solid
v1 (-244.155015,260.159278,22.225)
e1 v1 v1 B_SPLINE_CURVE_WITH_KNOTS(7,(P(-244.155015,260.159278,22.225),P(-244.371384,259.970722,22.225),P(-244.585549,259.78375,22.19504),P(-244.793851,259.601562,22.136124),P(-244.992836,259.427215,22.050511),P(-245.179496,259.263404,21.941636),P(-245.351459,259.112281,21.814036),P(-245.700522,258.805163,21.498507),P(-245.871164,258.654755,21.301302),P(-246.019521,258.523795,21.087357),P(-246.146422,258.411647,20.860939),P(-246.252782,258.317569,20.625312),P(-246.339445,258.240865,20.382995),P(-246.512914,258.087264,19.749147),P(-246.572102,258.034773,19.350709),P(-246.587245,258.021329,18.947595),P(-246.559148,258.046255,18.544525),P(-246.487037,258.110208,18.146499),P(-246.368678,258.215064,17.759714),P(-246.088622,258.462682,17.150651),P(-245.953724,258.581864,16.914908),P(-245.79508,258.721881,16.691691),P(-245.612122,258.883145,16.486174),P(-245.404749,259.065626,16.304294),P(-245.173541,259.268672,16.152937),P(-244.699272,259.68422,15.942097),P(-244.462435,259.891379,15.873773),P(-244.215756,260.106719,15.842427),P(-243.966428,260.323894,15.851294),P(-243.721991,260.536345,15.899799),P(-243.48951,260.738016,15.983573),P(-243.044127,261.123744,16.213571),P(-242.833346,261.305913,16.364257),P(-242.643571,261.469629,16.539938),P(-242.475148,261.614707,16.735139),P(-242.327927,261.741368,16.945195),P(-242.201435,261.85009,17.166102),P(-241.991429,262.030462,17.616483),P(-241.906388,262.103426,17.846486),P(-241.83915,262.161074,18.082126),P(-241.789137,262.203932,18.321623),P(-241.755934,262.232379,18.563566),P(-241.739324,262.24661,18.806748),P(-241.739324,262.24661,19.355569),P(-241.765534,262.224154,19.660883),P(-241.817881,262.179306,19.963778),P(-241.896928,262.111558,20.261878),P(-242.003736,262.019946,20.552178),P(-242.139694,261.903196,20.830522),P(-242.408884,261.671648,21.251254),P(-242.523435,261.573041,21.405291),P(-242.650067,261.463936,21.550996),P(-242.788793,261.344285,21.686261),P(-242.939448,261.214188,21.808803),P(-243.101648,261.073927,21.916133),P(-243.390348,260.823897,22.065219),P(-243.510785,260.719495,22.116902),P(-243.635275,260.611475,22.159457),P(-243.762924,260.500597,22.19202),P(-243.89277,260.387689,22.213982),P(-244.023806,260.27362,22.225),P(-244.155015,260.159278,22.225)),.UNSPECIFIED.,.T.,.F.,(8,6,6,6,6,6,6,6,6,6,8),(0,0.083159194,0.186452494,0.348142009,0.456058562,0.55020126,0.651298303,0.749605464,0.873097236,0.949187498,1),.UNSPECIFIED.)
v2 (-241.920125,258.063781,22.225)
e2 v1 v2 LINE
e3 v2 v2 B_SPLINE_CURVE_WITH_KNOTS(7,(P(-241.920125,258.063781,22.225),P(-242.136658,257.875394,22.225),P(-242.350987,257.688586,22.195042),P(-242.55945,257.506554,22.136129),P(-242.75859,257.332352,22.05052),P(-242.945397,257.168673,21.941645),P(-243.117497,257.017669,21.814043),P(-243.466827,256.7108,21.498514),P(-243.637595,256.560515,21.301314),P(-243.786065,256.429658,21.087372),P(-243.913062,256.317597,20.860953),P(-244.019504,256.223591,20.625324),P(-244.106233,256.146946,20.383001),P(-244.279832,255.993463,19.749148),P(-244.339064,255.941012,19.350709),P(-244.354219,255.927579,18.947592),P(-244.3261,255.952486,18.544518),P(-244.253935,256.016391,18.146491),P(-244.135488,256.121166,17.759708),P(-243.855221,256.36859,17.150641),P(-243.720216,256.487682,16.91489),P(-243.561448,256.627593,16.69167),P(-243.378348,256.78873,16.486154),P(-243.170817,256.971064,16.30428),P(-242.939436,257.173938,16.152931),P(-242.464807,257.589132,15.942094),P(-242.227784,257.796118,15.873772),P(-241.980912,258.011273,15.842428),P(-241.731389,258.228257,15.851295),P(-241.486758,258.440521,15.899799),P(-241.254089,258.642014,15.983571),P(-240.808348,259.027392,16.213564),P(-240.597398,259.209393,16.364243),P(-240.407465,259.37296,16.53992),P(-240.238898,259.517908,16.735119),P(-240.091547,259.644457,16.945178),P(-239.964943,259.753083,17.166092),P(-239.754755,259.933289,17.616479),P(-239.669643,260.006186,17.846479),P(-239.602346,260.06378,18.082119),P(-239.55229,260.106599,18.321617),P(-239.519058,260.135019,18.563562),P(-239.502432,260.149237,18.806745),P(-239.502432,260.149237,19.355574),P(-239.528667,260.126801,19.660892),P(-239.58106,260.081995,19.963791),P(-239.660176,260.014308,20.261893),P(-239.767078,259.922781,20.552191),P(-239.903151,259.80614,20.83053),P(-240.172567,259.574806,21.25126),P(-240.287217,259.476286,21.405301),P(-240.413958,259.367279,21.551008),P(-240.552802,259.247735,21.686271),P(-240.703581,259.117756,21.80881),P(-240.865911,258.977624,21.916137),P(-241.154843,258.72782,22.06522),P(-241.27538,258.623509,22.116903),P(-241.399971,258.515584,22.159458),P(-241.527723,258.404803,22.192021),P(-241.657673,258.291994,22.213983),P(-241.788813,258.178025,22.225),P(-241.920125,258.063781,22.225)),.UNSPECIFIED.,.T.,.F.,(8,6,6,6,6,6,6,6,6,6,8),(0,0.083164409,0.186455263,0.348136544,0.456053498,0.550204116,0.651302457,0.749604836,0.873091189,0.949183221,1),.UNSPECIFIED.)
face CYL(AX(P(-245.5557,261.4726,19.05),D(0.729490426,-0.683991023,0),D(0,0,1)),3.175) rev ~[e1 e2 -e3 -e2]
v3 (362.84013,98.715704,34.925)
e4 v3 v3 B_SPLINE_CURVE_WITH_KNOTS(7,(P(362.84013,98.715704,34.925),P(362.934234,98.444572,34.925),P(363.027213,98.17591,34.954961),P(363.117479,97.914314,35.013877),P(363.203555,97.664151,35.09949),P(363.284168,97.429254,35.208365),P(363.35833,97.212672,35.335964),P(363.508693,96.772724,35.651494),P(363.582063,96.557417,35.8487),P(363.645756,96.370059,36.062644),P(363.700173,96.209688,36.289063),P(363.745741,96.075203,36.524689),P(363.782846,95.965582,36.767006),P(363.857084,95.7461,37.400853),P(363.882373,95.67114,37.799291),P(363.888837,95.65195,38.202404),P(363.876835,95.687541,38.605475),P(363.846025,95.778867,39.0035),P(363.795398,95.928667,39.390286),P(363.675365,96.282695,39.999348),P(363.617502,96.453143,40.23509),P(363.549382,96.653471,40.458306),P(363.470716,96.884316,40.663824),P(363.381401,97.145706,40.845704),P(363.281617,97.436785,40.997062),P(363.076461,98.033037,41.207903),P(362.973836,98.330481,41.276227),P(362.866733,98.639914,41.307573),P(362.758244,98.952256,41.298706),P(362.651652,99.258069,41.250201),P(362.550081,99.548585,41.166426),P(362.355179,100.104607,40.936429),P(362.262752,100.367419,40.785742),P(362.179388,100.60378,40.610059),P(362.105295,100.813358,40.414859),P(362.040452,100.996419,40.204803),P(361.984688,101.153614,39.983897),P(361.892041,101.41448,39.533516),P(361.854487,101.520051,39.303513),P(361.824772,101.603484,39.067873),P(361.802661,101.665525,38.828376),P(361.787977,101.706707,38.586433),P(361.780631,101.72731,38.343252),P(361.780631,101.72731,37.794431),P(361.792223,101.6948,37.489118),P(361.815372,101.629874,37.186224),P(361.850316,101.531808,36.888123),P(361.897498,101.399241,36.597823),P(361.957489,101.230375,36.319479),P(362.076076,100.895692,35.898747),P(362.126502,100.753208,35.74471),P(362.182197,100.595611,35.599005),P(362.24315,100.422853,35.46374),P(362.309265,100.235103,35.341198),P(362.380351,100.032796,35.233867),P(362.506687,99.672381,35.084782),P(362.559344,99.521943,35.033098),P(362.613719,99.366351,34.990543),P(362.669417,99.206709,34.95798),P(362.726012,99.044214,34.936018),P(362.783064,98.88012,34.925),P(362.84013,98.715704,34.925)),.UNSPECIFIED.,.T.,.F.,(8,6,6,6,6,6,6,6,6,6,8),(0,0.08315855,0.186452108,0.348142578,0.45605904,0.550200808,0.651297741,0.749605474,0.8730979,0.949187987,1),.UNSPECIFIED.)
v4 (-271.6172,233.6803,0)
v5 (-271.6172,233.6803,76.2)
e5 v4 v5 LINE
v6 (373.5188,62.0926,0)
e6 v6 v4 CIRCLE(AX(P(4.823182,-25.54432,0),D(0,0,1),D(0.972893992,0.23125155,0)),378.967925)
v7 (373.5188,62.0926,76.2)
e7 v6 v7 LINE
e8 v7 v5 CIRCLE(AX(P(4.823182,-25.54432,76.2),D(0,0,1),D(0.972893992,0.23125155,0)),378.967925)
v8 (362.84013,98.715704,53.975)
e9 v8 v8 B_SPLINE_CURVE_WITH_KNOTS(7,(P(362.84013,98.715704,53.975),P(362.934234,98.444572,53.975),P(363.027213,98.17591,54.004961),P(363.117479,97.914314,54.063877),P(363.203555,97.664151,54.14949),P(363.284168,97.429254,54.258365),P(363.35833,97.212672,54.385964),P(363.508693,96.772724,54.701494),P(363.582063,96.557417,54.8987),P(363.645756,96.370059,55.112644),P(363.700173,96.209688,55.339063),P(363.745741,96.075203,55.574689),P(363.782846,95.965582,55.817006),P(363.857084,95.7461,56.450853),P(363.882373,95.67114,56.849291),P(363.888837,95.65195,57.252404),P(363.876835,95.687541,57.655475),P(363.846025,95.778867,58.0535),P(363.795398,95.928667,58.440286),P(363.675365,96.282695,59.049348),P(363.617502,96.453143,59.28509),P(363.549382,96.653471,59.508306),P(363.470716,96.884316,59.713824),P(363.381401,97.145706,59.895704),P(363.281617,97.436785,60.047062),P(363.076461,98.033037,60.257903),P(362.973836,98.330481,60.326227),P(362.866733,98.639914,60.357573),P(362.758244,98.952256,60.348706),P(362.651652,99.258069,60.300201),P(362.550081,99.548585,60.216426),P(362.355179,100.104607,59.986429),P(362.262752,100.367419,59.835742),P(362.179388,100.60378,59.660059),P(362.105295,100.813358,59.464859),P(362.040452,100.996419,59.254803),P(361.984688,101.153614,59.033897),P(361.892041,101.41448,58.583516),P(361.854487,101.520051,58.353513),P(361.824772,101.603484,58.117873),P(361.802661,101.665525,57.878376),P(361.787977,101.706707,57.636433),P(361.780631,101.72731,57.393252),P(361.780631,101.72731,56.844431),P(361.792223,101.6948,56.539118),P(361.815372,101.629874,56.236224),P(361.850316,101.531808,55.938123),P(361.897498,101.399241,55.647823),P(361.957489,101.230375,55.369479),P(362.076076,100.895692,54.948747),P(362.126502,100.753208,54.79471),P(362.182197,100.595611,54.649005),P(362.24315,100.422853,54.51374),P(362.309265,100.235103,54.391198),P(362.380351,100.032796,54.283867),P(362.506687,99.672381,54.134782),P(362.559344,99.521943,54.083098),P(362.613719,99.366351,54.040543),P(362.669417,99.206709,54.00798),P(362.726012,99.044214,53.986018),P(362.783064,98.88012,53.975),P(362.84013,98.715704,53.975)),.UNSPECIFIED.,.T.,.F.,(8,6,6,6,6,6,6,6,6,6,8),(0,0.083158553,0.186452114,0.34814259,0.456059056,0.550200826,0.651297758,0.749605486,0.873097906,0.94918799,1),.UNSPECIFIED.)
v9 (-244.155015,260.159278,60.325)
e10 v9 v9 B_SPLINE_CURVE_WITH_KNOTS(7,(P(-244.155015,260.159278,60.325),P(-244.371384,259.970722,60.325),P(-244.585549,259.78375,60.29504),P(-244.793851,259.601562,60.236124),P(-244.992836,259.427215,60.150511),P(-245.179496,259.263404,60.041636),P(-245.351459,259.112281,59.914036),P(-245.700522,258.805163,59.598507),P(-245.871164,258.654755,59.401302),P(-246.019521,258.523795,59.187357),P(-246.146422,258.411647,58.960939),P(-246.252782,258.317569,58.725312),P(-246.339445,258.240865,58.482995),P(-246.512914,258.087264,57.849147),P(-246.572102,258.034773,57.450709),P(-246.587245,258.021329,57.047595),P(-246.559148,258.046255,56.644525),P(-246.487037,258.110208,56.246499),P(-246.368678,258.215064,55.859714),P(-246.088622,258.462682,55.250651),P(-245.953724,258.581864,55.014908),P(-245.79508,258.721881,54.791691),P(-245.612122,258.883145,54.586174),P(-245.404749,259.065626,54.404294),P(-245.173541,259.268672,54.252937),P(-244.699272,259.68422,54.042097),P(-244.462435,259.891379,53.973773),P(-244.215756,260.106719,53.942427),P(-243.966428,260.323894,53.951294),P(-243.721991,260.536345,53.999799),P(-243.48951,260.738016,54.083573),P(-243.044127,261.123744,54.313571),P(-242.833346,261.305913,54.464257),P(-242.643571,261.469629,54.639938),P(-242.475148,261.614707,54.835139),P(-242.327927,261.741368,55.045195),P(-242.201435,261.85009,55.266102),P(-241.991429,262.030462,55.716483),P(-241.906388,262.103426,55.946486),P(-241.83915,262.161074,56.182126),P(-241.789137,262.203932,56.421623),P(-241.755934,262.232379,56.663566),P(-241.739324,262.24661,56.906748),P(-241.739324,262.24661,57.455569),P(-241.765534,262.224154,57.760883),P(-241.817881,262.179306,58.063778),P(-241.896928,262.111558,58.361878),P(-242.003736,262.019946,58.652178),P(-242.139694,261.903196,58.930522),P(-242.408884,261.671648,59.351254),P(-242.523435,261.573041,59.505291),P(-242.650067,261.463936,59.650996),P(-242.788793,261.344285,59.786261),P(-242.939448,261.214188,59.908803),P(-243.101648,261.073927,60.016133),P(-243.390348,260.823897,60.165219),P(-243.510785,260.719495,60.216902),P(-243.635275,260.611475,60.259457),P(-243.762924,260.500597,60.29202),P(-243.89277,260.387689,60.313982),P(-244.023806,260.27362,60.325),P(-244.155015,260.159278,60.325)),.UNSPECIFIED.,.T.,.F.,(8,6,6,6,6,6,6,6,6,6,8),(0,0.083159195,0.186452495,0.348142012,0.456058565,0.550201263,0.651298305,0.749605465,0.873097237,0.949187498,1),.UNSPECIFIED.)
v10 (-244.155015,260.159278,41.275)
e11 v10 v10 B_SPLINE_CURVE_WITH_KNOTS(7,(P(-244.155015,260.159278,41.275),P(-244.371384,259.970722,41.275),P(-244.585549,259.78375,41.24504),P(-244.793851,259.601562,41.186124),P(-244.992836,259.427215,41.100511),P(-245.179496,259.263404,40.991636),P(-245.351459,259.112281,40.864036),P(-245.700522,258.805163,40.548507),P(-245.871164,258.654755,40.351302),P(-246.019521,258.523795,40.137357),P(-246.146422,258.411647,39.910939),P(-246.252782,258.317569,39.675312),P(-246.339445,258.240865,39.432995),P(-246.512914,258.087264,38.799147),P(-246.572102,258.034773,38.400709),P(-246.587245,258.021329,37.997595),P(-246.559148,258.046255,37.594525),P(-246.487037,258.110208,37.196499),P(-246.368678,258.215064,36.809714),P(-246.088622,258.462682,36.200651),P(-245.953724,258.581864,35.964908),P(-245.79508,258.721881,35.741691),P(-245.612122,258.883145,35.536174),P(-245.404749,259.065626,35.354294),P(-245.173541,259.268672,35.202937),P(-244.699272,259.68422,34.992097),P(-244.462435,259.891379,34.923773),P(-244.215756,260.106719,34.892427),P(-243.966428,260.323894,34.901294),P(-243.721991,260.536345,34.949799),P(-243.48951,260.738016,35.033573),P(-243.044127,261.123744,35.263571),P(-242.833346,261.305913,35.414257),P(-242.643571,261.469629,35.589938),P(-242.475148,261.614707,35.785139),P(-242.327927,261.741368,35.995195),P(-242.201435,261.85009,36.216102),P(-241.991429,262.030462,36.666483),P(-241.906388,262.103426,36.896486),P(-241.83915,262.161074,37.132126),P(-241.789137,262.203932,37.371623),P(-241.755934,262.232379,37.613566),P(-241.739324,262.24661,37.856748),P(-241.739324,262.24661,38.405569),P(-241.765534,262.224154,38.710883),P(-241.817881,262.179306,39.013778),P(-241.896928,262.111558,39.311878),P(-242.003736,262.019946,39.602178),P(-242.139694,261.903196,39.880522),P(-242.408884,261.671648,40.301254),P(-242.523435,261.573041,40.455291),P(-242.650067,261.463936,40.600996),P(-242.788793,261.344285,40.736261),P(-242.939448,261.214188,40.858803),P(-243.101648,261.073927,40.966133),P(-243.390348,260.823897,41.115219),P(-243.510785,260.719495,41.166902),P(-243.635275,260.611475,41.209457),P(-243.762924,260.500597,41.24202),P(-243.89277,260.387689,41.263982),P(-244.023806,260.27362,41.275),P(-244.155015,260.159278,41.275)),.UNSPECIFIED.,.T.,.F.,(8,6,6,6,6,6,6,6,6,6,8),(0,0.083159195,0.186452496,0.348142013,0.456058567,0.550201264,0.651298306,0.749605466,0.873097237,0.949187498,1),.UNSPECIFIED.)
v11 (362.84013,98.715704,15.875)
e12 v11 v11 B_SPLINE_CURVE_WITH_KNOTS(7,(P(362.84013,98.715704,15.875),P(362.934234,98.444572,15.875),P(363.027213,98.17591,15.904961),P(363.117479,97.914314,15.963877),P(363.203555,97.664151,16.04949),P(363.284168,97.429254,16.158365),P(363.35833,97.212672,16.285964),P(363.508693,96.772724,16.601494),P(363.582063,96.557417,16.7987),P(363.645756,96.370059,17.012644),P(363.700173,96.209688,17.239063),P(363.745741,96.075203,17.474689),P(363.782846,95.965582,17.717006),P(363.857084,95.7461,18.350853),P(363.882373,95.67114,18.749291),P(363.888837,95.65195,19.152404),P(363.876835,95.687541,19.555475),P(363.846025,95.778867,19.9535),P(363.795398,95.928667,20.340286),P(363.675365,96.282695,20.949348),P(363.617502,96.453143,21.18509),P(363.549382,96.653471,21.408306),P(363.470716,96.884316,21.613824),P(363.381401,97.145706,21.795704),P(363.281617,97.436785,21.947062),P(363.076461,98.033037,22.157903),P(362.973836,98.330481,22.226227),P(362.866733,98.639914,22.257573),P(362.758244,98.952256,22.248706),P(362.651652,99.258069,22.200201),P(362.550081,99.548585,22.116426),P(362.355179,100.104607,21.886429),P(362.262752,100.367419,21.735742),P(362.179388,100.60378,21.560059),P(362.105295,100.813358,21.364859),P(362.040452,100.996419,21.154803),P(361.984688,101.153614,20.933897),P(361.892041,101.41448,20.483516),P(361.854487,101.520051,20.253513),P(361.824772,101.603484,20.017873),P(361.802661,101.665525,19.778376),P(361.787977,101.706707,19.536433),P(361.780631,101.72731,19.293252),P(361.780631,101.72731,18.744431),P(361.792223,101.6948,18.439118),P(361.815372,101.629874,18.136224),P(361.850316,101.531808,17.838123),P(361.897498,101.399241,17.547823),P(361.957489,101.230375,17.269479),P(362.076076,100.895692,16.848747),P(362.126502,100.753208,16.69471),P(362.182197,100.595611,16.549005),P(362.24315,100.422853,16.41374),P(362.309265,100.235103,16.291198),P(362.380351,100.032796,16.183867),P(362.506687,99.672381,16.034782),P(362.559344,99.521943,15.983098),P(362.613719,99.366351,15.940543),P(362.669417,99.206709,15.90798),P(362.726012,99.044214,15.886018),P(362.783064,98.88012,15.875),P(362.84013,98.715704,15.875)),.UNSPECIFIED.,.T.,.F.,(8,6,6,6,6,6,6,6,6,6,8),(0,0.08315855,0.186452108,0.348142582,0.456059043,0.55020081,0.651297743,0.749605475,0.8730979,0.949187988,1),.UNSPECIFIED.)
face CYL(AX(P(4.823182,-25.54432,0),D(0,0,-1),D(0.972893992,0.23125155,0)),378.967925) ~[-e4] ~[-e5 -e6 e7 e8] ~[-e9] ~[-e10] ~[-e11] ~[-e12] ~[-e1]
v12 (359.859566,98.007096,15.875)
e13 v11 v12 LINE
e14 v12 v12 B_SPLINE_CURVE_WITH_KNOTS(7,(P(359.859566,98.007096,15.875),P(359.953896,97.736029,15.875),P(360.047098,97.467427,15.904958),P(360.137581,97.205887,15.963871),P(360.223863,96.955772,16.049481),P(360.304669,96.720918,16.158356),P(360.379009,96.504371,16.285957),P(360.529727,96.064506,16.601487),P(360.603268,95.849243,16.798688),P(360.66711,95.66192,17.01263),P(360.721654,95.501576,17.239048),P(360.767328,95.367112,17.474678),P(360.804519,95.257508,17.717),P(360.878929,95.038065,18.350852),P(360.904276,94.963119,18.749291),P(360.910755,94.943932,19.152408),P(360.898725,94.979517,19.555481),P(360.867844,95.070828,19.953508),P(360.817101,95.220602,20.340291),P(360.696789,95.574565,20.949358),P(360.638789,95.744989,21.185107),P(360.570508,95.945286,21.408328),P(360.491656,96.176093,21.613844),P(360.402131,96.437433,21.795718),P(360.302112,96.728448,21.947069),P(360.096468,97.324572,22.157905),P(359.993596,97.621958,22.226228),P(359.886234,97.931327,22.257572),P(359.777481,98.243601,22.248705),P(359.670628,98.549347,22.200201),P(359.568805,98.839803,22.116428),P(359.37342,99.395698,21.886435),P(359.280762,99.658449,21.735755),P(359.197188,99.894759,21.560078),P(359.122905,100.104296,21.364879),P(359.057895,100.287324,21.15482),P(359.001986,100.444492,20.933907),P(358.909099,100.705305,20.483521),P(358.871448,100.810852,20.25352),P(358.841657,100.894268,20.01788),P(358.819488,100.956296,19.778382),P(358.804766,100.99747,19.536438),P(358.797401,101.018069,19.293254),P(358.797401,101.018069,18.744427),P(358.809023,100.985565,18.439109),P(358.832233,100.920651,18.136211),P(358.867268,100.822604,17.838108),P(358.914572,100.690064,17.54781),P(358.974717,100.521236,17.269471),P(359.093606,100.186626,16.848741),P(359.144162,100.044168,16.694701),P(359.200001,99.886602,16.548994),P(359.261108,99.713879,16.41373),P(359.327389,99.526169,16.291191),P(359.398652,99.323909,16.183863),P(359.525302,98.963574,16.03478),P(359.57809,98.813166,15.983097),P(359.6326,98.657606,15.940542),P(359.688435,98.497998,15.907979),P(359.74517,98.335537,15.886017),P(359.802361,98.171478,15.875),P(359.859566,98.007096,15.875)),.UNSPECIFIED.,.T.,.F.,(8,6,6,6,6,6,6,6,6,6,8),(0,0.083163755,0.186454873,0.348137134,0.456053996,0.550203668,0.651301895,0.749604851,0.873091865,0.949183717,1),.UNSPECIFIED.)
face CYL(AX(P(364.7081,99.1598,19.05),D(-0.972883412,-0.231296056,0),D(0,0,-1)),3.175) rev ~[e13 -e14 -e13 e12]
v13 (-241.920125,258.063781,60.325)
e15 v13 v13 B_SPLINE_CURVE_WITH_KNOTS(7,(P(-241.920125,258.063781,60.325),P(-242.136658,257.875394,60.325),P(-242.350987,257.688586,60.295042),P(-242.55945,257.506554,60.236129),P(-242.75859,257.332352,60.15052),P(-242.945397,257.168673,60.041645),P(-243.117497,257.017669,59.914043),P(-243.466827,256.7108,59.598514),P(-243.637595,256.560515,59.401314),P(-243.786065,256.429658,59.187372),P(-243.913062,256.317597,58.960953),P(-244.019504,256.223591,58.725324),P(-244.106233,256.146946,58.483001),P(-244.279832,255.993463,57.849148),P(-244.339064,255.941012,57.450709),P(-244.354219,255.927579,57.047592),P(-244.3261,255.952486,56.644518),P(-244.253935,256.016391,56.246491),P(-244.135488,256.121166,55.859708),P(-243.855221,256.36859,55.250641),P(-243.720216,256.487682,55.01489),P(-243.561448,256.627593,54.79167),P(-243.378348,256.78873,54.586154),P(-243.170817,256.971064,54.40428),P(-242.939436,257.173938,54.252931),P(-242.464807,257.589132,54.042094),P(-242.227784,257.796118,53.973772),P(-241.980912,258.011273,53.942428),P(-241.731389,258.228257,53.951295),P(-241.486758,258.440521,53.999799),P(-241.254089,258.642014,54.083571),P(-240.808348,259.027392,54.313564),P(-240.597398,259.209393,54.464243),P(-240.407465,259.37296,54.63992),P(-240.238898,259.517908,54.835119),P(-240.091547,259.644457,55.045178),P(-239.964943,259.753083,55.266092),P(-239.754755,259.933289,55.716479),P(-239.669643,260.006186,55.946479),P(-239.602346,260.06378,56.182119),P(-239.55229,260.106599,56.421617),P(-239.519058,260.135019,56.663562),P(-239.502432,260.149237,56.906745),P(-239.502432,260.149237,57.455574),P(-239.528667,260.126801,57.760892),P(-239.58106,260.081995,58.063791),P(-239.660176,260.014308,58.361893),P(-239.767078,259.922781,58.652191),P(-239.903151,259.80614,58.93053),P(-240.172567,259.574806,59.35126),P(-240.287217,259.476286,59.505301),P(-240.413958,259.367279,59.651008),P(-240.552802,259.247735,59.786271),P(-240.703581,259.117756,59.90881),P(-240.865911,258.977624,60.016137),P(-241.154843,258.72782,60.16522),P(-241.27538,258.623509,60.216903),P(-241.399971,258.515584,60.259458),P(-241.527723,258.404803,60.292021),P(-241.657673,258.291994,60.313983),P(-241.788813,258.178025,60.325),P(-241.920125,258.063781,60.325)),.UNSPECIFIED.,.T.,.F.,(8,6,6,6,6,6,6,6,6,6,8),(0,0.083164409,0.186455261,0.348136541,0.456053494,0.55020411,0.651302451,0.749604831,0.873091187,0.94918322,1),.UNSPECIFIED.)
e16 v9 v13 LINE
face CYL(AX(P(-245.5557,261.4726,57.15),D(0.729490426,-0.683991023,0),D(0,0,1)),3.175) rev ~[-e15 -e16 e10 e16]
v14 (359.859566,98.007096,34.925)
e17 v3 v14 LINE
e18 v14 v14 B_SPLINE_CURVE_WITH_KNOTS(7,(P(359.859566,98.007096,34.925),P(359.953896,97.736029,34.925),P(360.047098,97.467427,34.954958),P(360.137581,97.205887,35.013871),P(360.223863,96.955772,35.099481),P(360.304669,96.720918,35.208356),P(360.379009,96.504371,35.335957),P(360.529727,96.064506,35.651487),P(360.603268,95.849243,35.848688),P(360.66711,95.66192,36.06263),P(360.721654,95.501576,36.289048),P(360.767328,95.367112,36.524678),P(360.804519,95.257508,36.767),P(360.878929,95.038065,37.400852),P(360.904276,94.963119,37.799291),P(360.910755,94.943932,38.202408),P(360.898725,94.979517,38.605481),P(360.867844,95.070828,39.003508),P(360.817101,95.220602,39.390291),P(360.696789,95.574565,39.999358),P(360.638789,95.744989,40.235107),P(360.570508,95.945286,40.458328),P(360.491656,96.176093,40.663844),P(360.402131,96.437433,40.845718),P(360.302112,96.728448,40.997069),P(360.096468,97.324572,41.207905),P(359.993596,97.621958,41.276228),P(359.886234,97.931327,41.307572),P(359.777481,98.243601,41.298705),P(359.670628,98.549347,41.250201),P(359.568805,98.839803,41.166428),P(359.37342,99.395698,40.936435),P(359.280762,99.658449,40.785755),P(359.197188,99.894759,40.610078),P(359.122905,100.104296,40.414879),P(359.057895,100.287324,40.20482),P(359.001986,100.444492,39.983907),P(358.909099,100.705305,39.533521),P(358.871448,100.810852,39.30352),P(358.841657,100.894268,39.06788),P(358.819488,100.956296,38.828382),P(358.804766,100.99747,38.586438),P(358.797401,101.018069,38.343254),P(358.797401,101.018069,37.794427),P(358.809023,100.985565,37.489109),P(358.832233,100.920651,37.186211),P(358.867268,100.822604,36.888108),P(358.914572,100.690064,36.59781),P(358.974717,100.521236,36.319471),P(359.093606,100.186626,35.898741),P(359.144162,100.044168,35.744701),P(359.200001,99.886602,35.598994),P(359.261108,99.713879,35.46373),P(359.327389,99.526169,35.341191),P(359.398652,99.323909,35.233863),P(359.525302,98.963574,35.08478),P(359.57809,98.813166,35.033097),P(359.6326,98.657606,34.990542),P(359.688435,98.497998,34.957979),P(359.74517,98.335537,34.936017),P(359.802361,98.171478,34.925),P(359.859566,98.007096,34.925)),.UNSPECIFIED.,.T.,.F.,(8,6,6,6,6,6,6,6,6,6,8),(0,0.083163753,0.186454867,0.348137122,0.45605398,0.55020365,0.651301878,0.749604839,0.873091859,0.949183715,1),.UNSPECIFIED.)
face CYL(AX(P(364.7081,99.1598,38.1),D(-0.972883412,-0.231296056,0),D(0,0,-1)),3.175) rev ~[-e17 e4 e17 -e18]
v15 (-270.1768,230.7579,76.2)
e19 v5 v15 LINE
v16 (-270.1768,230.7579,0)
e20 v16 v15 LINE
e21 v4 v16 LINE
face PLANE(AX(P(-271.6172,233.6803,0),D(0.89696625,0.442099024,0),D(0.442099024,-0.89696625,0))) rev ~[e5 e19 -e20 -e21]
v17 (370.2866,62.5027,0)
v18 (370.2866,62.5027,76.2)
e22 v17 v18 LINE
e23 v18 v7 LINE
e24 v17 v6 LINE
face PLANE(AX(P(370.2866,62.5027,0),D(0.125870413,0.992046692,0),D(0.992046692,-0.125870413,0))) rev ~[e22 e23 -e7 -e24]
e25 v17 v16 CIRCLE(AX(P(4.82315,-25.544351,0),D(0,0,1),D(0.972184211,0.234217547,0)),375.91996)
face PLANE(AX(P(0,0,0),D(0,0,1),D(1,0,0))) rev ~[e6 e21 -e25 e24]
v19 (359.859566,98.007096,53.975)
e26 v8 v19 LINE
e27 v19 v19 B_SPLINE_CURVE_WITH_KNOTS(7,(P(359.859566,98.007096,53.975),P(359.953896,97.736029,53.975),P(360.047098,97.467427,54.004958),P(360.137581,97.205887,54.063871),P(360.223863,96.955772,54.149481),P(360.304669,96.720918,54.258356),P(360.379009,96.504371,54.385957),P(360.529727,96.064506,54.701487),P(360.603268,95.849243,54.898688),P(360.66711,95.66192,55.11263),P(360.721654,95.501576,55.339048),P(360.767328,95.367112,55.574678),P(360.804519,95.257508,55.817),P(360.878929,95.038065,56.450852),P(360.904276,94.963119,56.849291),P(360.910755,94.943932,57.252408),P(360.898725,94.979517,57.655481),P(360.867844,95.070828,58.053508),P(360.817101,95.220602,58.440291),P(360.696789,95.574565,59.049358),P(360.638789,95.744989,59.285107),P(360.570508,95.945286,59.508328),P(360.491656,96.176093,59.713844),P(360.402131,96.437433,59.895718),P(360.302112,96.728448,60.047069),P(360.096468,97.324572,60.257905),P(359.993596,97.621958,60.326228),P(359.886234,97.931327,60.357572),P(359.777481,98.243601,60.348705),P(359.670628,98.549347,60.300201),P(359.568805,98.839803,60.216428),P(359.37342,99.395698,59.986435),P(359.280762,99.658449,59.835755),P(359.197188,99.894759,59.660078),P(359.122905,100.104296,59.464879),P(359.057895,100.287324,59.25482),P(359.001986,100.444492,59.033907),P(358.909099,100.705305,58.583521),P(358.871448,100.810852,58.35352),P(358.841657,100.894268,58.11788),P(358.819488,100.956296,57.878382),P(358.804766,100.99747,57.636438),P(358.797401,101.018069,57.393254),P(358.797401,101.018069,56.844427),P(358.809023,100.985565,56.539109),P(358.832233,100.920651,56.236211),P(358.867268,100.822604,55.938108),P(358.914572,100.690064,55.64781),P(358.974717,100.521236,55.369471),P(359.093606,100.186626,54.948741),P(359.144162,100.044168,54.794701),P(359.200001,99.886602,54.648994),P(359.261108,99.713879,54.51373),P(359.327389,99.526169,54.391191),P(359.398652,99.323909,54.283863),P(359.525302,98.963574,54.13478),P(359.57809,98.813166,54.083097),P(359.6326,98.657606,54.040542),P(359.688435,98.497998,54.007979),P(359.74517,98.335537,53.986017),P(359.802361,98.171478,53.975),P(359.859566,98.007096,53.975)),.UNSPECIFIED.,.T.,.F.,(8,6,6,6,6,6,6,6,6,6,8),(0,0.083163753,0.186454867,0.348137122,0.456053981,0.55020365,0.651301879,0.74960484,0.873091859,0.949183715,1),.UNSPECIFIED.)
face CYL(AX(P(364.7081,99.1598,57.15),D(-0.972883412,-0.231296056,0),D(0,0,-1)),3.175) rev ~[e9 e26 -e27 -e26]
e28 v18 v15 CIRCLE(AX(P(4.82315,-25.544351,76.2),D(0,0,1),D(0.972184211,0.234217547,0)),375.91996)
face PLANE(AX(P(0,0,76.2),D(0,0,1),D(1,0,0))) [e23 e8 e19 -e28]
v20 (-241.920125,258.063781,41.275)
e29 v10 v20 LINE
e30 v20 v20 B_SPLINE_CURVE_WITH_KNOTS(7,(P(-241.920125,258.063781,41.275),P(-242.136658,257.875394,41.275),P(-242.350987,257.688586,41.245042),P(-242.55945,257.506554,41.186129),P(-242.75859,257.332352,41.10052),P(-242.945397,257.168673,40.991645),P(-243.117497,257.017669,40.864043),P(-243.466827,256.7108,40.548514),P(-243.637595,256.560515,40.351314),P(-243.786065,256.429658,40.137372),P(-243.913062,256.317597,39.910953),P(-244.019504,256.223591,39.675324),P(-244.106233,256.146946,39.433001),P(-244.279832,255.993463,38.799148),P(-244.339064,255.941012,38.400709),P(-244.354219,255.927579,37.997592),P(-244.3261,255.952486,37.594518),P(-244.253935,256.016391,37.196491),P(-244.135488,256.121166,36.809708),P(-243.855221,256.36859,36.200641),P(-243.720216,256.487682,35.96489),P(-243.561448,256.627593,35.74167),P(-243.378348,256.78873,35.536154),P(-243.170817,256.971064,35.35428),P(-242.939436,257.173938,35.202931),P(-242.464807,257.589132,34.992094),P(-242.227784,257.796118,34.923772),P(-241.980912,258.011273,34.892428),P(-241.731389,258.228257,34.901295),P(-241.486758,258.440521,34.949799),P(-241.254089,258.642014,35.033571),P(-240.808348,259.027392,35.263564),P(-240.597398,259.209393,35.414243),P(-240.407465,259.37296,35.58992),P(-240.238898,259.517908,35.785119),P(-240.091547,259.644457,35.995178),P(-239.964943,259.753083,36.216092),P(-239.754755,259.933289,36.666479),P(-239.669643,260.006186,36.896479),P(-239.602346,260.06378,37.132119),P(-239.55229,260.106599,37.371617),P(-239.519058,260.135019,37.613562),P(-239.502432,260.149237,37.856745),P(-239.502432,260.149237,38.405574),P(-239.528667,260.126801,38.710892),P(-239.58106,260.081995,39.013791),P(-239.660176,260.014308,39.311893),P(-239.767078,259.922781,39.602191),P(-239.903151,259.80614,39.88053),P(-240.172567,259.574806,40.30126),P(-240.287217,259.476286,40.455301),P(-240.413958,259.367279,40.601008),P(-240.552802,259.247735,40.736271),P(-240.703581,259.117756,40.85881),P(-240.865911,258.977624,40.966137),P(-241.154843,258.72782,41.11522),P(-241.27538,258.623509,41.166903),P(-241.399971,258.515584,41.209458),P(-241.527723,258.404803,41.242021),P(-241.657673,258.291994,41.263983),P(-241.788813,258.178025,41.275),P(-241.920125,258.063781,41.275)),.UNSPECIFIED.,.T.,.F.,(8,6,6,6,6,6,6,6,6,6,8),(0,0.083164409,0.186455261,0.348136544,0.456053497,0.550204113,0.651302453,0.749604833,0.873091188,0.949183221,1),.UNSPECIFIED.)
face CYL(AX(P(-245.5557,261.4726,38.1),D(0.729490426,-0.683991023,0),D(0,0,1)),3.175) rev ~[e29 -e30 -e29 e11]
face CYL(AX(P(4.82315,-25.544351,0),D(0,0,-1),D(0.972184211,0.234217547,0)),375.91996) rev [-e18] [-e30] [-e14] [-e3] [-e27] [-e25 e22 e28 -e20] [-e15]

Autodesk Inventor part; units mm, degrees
ref_plane "YZ Plane" through (0, 0, 0) normal (1, 0, 0) x (0, 1, 0)
sketch "Sketch1" plane through (0, 0, 0) normal (0, 0, 1) x (1, 0, 0)
  arc A0 (370.2866, 62.5027) -> (-270.1768, 230.7579) centre (4.8231, -25.5444) ccw
  arc A1 (373.5188, 62.0926) -> (-271.6172, 233.6803) centre (4.8231, -25.5444) ccw
  line L0 (-271.6172, 233.6803) -> (-270.1768, 230.7579)
  line L1 (370.2866, 62.5027) -> (373.5188, 62.0926)
  point P0 (0, 0)
  dimension "d0" = 375.92
  dimension "d1" = 123.47
  dimension "d3" = 123.47
  dimension "d4" = 378.968
extrude "Extrusion1" add sketch "Sketch1" along normal blind 76.2
ref_plane "Work Plane3" through (373.5188, 62.0926, 0) normal (0.9729, 0.2313, 0) x (-0.2313, 0.9729, 0)
ref_plane "Work Plane4" through (-271.6172, 233.6803, 0) normal (-0.7295, 0.684, 0) x (-0.684, -0.7295, 0)
sketch "Sketch2" plane through (373.5188, 62.0926, 0) normal (0.9729, 0.2313, 0) x (-0.2313, 0.9729, 0)
  line L0 (316.1255, 76.2) -> (0, 76.2) projected
  line L1 (0, 0) -> (0, 76.2) projected
  line L2 (316.1255, 0) -> (0, 0) projected
  line L3 (316.1255, 0) -> (316.1255, 76.2) projected
  point P0 (25.9674, 0)
  point P1 (38.1, 57.15)
  point P2 (38.1, 38.1)
  point P3 (38.1, 19.05)
  dimension "d7" = 38.1
  dimension "d8" = 38.1
  dimension "d9" = 38.1
  dimension "d10" = 19.05
  dimension "d11" = 38.1
  dimension "d12" = 57.15
sketch "Sketch3" plane through (-271.6172, 233.6803, 0) normal (-0.7295, 0.684, 0) x (-0.684, -0.7295, 0)
  line L0 (0, 0) -> (0, 76.2) projected
  line L1 (-378.968, 0) -> (0, 0) projected
  point P0 (-15.3344, 0)
  point P1 (-38.1, 19.05)
  point P2 (-38.1, 38.1)
  point P3 (-38.1, 57.15)
  point P4 (-316.1255, 0)
  dimension "d13" = 38.1
  dimension "d14" = 38.1
  dimension "d15" = 38.1
  dimension "d16" = 19.05
  dimension "d17" = 38.1
  dimension "d18" = 57.15
hole "Hole1" at (-245.5557, 261.4726, 57.15) at (-245.5557, 261.4726, 38.1) at (-245.5557, 261.4726, 19.05) direction (0.7295, -0.684, 0) diameter 6.35 depth 25.4 tip angle 118
hole "Hole2" at (364.7081, 99.1598, 57.15) at (364.7081, 99.1598, 38.1) at (364.7081, 99.1598, 19.05) direction (-0.9729, -0.2313, 0) diameter 6.35 depth 25.4 tip angle 118
thread "Thread7" size "1/4-20 UNC" class "2B" standard "ANSI Unified Screw Threads" full length
thread "Thread8" size "1/4-20 UNC" class "2B" standard "ANSI Unified Screw Threads" full length
thread "Thread9" size "1/4-20 UNC" class "2B" standard "ANSI Unified Screw Threads" full length
thread "Thread10" size "1/4-20 UNC" class "2B" standard "ANSI Unified Screw Threads" full length
thread "Thread11" size "1/4-20 UNC" class "2B" standard "ANSI Unified Screw Threads" full length
thread "Thread12" size "1/4-20 UNC" class "2B" standard "ANSI Unified Screw Threads" full length
equation "\"d3\" = d1"
properties part number "curvedTrack 123.47 degrees"
